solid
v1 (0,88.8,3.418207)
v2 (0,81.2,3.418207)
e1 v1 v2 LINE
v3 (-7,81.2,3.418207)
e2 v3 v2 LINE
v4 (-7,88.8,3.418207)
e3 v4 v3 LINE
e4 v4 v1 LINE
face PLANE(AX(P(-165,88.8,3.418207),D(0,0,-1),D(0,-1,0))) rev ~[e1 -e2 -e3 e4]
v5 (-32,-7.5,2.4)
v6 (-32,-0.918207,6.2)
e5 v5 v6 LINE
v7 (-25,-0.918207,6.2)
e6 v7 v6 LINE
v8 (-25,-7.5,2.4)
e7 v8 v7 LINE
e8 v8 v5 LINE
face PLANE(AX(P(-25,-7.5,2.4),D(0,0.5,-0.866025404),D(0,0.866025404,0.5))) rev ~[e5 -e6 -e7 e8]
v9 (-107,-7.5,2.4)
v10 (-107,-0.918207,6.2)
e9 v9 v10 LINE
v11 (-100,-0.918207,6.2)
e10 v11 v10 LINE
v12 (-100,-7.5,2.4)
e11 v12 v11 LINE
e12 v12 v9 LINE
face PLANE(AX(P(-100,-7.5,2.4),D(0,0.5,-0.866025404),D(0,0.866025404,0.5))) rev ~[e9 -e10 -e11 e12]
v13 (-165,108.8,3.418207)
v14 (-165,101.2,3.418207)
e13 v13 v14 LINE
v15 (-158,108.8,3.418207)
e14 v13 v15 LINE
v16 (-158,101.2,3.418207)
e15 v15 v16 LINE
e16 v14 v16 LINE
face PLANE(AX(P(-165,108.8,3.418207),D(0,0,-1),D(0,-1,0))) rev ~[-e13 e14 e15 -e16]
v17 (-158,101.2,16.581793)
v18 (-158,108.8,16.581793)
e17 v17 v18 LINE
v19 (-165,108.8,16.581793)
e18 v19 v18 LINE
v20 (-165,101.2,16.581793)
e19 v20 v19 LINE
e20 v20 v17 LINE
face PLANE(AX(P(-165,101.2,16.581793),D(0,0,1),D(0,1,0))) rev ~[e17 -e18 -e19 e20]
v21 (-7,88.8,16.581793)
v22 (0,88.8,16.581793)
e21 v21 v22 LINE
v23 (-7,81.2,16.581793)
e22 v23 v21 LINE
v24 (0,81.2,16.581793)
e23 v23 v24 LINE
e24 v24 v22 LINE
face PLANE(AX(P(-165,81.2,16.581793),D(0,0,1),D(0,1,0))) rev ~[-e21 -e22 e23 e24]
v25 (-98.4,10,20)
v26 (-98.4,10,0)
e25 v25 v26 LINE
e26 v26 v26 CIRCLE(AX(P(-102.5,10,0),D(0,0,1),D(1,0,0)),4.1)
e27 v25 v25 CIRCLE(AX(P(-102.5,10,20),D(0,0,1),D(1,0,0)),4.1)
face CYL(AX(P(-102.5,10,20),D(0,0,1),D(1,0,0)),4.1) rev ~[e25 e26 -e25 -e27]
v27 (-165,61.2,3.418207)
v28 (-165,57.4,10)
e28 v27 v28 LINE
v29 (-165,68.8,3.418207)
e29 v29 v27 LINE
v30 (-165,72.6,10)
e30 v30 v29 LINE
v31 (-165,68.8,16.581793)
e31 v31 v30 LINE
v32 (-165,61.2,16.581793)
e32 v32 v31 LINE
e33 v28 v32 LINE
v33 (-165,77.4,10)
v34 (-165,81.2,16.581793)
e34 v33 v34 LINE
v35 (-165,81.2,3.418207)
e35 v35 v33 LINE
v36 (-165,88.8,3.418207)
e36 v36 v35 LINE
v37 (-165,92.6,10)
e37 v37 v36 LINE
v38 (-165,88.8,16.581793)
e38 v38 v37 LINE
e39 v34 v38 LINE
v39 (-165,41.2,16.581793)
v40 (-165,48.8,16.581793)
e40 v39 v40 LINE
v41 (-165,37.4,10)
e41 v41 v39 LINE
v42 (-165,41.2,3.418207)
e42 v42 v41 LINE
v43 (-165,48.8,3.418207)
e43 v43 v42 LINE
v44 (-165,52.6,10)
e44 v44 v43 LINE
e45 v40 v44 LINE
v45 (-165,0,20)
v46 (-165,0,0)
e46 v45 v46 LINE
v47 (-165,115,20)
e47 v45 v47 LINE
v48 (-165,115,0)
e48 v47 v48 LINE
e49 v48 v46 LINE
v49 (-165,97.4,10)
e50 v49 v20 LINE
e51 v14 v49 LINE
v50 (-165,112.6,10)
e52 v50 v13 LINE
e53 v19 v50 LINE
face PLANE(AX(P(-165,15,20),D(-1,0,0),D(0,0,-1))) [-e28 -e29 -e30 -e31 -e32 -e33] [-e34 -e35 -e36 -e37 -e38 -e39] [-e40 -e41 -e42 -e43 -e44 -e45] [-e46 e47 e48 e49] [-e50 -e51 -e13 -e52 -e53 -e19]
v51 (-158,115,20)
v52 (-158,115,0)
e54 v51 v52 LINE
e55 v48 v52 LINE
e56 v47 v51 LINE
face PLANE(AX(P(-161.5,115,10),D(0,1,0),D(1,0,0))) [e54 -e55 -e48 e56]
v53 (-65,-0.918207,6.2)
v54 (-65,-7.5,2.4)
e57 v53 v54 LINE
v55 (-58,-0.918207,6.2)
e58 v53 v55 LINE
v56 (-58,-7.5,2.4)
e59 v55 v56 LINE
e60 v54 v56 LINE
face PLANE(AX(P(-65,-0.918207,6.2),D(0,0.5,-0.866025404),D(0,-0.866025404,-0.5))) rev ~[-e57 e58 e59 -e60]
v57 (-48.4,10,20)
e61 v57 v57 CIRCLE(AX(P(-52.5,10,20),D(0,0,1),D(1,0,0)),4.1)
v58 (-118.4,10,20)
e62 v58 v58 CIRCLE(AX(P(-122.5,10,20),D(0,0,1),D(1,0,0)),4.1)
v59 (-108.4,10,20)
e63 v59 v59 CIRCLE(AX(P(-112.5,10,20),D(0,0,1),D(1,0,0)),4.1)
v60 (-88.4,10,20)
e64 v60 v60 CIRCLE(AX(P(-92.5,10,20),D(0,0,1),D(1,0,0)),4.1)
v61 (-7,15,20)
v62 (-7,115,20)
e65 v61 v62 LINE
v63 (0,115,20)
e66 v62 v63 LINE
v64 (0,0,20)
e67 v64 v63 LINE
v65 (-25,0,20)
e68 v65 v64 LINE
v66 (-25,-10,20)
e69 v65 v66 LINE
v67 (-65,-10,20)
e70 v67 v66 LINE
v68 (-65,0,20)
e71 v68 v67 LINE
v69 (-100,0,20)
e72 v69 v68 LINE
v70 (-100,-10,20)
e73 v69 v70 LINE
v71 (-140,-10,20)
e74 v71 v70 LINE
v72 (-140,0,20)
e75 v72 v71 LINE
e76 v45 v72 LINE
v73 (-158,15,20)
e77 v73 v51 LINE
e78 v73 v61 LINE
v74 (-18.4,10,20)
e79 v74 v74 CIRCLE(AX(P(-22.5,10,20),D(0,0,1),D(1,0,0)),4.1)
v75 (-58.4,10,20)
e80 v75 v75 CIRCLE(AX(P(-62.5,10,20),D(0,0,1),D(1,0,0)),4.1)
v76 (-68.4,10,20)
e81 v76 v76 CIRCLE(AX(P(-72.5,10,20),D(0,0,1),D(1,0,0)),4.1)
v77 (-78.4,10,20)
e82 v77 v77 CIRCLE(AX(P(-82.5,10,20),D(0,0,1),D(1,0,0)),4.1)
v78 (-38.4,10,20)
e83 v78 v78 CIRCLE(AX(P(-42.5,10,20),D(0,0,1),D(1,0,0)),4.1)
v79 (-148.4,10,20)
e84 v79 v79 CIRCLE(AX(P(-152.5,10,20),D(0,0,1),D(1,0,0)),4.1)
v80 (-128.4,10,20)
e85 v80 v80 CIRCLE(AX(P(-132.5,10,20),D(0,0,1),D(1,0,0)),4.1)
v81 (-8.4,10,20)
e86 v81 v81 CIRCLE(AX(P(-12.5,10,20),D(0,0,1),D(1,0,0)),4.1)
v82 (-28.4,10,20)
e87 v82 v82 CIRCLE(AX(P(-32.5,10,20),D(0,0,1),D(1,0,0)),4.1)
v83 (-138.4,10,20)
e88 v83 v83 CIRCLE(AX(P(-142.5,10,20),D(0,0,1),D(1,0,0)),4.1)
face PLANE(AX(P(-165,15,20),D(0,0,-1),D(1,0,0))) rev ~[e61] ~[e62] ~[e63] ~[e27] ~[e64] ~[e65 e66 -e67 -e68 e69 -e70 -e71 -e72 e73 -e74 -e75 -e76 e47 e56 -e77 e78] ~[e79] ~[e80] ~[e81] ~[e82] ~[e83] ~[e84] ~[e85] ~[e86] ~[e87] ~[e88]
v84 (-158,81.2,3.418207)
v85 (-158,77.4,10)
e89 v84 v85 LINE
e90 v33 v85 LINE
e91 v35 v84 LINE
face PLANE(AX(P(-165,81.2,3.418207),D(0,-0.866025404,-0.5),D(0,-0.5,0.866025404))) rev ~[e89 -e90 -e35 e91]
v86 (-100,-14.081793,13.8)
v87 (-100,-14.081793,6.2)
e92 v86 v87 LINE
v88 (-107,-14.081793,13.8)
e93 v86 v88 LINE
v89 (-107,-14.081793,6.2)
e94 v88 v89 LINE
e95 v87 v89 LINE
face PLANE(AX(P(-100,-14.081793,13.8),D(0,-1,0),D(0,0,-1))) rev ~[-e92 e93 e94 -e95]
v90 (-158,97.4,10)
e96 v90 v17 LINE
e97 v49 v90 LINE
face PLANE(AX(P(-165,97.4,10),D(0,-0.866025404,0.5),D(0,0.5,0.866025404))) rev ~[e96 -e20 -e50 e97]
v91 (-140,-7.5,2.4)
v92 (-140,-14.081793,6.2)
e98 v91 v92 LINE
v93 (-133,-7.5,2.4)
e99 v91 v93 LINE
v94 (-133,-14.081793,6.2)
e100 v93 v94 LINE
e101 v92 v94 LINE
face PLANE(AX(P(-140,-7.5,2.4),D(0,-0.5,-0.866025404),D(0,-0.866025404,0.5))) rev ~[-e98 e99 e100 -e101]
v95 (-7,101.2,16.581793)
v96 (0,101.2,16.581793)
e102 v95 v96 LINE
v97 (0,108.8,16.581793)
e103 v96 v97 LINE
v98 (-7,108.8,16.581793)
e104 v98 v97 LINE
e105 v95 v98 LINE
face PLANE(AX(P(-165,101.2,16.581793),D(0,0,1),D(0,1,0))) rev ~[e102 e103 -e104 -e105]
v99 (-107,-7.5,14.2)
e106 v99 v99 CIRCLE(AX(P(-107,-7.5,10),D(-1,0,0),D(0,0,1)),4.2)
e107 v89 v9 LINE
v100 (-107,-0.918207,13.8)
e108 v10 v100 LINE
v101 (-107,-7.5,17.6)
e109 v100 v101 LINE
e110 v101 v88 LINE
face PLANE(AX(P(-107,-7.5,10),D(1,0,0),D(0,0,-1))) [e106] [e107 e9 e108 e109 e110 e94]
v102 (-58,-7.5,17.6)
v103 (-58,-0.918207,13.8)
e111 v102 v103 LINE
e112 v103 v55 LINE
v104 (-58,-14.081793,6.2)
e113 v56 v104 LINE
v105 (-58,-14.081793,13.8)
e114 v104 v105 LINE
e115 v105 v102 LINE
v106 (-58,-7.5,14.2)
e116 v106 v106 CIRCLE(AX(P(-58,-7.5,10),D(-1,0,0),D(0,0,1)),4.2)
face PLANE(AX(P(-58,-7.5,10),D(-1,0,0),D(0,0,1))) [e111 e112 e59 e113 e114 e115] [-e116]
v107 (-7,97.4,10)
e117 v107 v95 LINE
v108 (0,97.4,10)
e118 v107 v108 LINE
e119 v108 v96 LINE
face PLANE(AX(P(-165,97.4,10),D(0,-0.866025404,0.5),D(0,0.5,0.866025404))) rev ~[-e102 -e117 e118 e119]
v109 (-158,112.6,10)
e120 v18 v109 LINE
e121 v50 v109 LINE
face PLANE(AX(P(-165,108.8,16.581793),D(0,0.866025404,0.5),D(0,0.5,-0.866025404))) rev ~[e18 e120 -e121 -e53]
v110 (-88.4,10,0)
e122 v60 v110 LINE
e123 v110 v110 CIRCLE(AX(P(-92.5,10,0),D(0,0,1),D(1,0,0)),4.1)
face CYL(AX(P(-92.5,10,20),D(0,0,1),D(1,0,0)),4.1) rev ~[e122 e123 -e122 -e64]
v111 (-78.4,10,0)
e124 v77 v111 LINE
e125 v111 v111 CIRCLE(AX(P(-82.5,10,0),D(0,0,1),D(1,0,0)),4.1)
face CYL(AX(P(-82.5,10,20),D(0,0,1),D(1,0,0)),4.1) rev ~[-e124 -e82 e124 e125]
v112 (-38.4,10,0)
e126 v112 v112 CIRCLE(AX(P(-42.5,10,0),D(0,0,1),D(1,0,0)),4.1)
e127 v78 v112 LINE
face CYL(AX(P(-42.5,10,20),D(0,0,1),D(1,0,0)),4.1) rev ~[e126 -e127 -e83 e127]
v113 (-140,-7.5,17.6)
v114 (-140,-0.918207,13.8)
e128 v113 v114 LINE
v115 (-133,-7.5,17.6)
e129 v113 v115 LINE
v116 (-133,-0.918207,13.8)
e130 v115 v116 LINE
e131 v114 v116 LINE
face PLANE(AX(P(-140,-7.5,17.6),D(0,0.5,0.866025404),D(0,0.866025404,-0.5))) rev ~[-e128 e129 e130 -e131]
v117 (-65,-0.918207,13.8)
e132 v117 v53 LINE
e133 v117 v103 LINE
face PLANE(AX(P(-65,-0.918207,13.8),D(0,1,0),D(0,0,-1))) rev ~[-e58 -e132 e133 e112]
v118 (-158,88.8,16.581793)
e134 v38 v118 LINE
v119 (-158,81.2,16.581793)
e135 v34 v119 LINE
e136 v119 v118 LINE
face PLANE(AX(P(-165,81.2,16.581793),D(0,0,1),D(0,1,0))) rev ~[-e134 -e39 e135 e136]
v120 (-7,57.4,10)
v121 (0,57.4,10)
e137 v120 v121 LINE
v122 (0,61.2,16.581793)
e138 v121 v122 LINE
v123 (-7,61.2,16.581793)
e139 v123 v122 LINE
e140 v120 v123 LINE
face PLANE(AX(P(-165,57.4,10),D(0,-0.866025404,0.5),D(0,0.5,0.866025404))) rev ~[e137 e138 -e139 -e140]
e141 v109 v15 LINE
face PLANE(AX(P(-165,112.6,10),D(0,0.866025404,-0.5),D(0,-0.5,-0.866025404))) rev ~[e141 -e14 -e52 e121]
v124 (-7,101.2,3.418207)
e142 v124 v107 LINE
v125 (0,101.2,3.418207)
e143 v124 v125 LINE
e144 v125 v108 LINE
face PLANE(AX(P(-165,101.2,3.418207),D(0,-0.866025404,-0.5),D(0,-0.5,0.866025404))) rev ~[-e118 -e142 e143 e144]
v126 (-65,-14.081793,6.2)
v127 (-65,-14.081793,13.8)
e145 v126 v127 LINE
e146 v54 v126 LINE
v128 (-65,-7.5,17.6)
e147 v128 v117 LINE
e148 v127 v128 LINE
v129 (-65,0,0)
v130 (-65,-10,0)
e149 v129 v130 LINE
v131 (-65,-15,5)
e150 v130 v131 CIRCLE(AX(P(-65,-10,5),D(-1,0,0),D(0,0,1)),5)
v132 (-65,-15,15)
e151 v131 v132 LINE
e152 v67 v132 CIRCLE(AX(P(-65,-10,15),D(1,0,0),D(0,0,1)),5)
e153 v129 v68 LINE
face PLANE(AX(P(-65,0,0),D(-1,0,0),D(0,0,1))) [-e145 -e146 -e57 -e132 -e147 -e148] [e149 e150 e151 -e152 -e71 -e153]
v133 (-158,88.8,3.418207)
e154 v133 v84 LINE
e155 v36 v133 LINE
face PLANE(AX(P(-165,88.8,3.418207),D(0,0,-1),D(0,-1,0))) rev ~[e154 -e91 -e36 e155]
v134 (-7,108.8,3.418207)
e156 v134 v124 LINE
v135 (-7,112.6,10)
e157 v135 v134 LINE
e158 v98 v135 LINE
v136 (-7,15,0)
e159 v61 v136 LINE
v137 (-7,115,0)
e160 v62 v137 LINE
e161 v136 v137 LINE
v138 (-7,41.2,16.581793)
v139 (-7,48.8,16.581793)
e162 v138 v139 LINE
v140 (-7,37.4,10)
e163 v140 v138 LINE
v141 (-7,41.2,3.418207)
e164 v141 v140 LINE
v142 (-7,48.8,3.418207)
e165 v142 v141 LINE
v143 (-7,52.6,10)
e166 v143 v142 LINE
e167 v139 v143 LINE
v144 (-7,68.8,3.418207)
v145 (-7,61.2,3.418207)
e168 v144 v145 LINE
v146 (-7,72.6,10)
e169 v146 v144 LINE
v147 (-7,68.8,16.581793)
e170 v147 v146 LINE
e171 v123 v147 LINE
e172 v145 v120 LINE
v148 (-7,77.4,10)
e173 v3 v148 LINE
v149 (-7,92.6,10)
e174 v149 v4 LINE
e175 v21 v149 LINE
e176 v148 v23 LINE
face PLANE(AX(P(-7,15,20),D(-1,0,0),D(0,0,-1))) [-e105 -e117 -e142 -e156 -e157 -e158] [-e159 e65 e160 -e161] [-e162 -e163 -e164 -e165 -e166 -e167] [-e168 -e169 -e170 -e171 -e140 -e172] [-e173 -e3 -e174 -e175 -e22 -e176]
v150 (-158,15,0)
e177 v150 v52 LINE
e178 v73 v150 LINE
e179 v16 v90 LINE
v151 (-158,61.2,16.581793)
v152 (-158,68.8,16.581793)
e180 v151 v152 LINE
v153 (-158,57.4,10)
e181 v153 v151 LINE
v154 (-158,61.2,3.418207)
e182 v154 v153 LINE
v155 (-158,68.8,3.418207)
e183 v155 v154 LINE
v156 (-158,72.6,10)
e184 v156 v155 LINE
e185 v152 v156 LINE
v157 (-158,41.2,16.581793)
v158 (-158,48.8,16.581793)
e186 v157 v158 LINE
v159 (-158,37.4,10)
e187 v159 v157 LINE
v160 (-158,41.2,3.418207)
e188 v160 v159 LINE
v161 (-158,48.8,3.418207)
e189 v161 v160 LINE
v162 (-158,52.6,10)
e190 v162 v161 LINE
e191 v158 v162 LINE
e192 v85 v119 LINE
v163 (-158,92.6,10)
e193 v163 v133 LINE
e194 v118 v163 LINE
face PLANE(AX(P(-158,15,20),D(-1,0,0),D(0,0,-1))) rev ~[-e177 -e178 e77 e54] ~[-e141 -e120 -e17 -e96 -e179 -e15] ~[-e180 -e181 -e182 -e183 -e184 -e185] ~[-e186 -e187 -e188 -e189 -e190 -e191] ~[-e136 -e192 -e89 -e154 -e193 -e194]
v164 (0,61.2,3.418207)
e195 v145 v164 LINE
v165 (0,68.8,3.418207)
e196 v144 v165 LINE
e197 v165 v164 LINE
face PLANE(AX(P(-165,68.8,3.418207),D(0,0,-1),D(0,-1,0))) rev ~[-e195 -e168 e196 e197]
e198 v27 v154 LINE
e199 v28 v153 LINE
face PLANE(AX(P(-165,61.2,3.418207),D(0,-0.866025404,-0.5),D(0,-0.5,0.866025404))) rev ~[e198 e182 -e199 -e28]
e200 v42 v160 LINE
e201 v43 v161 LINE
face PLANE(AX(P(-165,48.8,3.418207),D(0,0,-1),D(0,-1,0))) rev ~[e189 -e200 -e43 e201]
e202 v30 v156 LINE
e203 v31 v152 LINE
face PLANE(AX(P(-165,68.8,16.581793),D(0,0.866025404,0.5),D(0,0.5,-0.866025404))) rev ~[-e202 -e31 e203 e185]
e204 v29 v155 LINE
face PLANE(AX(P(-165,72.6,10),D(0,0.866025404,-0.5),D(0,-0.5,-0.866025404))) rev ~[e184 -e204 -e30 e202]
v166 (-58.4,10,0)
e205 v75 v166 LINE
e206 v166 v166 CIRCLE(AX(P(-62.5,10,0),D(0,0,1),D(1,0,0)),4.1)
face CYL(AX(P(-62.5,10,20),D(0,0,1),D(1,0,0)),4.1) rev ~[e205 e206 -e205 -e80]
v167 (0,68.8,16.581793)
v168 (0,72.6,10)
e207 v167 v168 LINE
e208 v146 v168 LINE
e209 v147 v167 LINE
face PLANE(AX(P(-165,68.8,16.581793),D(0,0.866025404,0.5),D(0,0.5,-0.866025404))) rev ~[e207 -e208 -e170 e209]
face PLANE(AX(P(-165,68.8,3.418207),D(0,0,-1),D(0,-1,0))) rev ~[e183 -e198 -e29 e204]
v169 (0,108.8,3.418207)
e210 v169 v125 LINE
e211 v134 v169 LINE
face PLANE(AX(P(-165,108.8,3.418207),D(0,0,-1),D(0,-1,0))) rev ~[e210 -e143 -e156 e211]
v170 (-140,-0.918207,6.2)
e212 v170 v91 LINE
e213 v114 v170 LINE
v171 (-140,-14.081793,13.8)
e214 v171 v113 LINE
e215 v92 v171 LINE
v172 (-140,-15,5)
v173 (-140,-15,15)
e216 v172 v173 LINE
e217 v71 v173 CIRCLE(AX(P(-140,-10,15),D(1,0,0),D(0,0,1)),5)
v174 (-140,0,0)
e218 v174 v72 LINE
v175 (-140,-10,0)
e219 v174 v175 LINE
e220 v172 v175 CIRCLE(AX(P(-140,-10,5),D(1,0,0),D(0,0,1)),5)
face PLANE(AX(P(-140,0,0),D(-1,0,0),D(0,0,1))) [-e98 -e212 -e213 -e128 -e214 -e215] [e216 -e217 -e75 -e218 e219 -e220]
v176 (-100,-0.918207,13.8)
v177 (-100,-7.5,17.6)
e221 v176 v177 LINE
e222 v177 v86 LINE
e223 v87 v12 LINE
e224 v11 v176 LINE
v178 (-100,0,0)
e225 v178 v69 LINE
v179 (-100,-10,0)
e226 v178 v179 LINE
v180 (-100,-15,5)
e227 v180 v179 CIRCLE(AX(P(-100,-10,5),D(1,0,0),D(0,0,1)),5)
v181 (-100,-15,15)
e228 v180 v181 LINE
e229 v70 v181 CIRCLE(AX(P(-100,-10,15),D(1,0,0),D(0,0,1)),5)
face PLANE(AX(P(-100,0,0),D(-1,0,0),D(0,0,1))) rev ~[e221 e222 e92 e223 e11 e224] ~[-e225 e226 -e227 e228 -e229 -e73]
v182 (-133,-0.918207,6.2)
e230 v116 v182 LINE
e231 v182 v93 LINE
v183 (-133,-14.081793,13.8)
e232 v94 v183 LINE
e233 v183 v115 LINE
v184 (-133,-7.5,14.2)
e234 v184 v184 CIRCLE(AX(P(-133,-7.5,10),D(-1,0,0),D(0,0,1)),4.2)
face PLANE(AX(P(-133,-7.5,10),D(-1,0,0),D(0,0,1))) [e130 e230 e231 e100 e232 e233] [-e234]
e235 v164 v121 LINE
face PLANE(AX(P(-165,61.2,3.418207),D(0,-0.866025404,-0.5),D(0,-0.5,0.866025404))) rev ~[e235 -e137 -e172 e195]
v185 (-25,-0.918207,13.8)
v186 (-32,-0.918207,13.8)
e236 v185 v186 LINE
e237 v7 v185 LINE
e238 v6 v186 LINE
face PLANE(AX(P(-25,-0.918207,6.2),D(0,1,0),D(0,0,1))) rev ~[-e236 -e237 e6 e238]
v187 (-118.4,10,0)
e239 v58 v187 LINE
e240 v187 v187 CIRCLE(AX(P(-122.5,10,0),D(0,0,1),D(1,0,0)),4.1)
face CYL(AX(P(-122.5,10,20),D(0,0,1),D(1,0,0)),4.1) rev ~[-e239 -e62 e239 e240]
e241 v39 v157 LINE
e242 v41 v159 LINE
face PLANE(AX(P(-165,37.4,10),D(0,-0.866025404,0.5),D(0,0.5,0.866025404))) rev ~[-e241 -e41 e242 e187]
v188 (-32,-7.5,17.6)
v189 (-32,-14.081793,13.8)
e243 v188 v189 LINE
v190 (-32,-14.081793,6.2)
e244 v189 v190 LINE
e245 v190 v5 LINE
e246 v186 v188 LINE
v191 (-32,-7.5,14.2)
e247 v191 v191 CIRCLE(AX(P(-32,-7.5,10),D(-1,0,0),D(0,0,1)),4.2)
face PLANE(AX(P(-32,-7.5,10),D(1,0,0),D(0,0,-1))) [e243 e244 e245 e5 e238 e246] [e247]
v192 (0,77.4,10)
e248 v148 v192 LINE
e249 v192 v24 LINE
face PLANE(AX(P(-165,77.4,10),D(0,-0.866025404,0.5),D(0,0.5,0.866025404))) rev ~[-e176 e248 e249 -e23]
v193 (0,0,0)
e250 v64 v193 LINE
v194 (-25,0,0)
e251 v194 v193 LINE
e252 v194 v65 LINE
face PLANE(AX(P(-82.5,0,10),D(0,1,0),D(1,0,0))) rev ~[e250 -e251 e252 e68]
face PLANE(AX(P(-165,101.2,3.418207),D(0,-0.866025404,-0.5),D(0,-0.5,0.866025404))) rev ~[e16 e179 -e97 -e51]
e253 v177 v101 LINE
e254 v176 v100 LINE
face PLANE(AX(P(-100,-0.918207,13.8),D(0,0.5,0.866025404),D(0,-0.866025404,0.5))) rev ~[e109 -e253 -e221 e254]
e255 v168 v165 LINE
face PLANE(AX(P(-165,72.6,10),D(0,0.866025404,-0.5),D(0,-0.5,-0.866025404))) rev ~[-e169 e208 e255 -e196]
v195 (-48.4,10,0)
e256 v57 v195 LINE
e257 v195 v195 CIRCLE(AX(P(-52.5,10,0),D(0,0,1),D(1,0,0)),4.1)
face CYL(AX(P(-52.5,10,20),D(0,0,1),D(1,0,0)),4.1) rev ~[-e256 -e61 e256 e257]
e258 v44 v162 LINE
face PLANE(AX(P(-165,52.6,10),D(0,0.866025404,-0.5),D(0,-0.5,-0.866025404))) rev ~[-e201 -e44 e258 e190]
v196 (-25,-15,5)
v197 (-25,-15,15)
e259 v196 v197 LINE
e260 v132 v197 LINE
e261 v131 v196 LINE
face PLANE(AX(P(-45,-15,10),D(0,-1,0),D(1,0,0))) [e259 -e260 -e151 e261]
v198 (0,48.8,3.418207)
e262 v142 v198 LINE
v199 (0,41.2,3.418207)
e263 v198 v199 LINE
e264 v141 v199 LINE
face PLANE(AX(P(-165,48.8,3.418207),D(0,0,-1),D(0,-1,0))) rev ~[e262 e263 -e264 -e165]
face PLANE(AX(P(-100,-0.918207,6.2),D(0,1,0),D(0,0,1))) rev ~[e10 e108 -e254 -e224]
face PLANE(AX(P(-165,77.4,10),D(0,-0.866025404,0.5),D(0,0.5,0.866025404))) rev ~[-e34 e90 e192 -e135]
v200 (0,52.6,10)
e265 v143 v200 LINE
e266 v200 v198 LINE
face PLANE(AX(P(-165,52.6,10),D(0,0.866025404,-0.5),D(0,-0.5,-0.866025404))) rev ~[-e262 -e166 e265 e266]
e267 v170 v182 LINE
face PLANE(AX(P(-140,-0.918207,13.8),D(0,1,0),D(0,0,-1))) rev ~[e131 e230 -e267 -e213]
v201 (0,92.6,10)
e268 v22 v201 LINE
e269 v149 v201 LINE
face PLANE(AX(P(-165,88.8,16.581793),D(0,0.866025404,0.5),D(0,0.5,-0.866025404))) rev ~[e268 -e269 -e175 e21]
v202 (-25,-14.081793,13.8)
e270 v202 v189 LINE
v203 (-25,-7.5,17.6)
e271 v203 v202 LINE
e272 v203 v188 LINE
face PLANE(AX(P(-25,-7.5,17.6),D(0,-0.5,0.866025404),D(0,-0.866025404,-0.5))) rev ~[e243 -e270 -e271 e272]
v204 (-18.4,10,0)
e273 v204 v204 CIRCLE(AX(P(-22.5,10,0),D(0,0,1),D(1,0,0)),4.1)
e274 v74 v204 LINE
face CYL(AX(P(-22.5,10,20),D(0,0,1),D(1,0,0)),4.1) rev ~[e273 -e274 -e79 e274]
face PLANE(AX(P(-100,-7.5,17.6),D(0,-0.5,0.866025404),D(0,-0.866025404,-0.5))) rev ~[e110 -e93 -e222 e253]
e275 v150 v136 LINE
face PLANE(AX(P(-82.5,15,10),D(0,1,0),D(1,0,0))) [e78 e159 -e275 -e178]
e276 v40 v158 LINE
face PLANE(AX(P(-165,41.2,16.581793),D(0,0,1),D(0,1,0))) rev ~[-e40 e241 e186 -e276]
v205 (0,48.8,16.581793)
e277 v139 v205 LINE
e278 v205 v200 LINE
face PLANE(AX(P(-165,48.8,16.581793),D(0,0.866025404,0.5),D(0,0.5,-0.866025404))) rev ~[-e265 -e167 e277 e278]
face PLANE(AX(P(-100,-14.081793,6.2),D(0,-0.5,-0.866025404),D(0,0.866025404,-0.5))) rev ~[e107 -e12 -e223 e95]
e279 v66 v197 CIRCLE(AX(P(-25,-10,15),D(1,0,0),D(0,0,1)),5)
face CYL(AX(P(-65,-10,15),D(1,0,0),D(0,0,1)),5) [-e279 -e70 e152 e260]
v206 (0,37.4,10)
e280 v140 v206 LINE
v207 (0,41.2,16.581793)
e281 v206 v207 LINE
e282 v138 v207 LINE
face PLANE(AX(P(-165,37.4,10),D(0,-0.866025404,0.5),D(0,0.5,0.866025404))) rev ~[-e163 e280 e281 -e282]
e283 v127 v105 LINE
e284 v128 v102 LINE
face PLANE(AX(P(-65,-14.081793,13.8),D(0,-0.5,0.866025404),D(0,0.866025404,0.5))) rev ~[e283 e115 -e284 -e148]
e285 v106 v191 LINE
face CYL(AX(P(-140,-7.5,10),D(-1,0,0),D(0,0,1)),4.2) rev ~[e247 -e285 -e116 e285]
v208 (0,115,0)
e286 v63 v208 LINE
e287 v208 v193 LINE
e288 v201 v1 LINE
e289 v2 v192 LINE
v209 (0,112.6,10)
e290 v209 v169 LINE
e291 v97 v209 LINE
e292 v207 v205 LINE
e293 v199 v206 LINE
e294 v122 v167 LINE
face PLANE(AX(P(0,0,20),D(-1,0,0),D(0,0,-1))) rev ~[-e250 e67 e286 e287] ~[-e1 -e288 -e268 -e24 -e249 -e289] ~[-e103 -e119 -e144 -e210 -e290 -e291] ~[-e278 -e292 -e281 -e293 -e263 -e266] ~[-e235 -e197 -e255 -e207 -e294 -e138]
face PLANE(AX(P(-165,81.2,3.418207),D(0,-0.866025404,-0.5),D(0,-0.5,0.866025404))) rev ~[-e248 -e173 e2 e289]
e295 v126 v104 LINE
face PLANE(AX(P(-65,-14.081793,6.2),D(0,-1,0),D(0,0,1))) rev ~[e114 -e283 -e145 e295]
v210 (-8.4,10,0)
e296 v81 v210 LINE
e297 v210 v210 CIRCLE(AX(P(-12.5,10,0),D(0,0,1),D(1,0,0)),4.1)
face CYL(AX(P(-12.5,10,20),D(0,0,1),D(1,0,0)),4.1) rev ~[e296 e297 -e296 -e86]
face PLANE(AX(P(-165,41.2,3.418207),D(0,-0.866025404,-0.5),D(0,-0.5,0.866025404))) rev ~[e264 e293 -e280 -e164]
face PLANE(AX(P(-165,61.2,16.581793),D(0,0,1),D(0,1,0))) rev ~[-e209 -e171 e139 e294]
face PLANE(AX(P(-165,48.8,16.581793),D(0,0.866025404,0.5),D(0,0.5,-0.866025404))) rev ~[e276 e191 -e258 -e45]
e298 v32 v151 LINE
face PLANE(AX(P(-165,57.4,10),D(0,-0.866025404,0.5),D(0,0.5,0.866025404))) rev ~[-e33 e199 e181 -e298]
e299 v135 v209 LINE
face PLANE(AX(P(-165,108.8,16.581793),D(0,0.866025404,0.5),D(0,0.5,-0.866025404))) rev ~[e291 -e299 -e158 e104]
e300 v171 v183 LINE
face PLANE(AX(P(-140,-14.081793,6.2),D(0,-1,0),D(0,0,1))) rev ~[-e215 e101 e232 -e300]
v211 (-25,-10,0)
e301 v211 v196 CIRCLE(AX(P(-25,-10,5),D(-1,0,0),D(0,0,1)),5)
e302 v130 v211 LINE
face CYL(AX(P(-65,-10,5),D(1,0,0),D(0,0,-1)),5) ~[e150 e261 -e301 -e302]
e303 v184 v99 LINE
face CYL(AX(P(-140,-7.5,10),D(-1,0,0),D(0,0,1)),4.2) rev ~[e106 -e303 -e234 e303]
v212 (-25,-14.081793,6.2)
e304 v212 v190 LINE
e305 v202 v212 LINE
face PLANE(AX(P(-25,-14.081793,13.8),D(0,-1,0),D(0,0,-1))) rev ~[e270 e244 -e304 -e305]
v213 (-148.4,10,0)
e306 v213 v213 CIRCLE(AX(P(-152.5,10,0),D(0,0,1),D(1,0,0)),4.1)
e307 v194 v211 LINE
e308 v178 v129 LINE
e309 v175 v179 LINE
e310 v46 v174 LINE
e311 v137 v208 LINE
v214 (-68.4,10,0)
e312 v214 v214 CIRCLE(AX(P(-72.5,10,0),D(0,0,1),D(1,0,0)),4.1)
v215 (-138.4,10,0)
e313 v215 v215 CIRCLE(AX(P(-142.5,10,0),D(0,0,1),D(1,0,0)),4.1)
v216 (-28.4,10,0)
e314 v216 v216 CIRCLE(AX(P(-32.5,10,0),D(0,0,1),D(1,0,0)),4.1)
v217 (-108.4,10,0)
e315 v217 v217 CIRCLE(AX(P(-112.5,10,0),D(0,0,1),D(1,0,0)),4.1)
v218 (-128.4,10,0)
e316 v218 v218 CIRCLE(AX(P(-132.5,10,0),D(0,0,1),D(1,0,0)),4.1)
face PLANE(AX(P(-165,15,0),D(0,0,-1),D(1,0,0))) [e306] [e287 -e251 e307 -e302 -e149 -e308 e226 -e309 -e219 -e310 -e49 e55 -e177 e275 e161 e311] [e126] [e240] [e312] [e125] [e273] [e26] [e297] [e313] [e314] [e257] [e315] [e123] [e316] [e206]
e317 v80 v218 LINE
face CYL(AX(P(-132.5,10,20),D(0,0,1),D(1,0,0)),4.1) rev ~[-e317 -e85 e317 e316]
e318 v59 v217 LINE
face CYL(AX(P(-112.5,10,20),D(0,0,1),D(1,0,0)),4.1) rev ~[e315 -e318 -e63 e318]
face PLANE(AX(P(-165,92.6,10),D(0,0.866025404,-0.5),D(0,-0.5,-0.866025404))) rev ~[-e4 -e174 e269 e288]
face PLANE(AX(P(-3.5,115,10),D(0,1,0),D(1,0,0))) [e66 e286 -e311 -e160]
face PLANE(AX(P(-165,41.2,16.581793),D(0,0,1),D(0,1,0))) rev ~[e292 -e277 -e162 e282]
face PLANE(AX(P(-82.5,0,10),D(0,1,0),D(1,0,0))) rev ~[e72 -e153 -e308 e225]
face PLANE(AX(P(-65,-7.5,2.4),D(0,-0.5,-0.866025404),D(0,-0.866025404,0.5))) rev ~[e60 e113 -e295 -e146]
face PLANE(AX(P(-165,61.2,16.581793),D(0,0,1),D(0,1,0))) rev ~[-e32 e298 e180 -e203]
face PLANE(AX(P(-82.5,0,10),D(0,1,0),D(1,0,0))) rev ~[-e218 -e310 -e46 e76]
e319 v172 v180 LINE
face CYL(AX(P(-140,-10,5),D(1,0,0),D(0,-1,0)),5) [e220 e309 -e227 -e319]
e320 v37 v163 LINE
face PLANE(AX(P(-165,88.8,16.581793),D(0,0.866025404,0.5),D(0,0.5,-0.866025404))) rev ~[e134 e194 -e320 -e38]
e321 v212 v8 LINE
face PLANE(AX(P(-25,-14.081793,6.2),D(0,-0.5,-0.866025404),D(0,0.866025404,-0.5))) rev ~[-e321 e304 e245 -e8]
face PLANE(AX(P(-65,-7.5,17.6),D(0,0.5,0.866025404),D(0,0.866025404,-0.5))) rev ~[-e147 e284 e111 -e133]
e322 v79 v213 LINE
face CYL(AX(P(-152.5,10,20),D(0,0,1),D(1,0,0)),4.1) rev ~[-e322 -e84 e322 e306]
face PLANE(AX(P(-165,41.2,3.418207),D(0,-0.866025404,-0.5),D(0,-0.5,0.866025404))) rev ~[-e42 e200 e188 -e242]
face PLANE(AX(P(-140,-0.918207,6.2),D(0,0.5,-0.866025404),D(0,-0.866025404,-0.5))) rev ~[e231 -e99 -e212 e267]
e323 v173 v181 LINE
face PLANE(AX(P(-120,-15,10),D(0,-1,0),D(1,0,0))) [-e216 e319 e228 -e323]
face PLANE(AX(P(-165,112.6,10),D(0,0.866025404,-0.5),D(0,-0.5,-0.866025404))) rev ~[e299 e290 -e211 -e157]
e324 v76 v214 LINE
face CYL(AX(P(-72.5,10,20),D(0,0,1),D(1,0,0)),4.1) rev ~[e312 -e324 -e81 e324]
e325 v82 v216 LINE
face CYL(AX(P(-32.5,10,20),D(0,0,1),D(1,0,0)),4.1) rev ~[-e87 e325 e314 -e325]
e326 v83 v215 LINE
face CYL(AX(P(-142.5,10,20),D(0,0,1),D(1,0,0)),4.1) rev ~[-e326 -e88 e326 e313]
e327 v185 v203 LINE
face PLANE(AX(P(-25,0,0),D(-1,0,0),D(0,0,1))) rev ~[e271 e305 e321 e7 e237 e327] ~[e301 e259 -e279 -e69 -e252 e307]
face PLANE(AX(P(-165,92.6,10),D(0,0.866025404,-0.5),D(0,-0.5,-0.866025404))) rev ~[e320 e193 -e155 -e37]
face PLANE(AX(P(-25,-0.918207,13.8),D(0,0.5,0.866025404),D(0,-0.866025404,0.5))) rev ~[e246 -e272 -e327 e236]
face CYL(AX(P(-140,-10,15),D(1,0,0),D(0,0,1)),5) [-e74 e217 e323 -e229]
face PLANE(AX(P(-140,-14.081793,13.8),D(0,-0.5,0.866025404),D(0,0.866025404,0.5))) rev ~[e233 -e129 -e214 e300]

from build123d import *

# Parameters (mm, degrees)
SKETCH_1_W                 = 165
SKETCH_1_H                 = 20
EXTRUDE_1_DEPTH            = 15
SKETCH_2_W                 = 7
SKETCH_2_H                 = 20
EXTRUDE_2_DEPTH            = 100
SKETCH_3_R                 = 4.1
CUT_EXTRUDE_1_DEPTH        = 21
PATTERN_LINEAR_1_COUNT     = 8
PATTERN_LINEAR_1_PITCH     = 10
PATTERN_LINEAR_1_COL_COUNT = 8
PATTERN_LINEAR_1_COL_PITCH = 10
CUT_EXTRUDE_2_DEPTH        = 166
SKETCH_5_W                 = 40
SKETCH_5_H                 = 20
EXTRUDE_3_DEPTH            = 15
SKETCH_6_R                 = 4.2
CUT_EXTRUDE_4_DEPTH        = 141
CUT_EXTRUDE_5_DEPTH        = 7
CUT_EXTRUDE_6_DEPTH        = 7
CUT_EXTRUDE_7_DEPTH        = 7
CUT_EXTRUDE_8_DEPTH        = 7
FILLET_1_R                 = 5
FILLET_2_R                 = 5
PATTERN_LINEAR_2_COUNT     = 4
PATTERN_LINEAR_2_PITCH     = 20


with BuildPart() as part:
    # Эскиз1 → Бобышка-Вытянуть1 (new body)
    with BuildSketch(Plane(origin=(0, 0, 0), x_dir=(1, 0, 0), z_dir=(0, 1, 0))):
        with Locations((-82.5, -10)):
            Rectangle(SKETCH_1_W, SKETCH_1_H)
    extrude(amount=EXTRUDE_1_DEPTH)

    # Эскиз2 → Бобышка-Вытянуть2 (add)
    with BuildSketch(Plane(origin=(0, 15, 0), x_dir=(1, 0, 0), z_dir=(0, 1, 0))):
        with Locations((-161.5, -10)):
            Rectangle(SKETCH_2_W, SKETCH_2_H)
        with Locations((-3.5, -10)):
            Rectangle(SKETCH_2_W, SKETCH_2_H)
    extrude(amount=EXTRUDE_2_DEPTH)

    # Эскиз3 → Вырез-Вытянуть1 (cut, through all)
    with BuildSketch(Plane.XY.offset(20)):
        with Locations((-82.5, 10)):
            Circle(SKETCH_3_R)
    cut_extrude_1 = extrude(amount=-CUT_EXTRUDE_1_DEPTH, mode=Mode.SUBTRACT)

    # Линейный массив1: Вырез-Вытянуть1 ×8
    with Locations(*[(-i * PATTERN_LINEAR_1_PITCH, 0, 0) for i in range(1, PATTERN_LINEAR_1_COUNT)]):
        add(cut_extrude_1, mode=Mode.SUBTRACT)

    # Линейный массив1 col: Вырез-Вытянуть1 ×8
    with Locations(*[(i * PATTERN_LINEAR_1_COL_PITCH, 0, 0) for i in range(1, PATTERN_LINEAR_1_COL_COUNT)]):
        add(cut_extrude_1, mode=Mode.SUBTRACT)

    # Эскиз4 → Вырез-Вытянуть2 (cut, through all)
    with BuildSketch(Plane.ZY.offset(165)):
        Polygon((10, 97.4), (16.581793069, 101.2), (16.581793069, 108.8), (10, 112.6), (3.418206931, 108.8), (3.418206931, 101.2), align=None)
    cut_extrude_2 = extrude(amount=-CUT_EXTRUDE_2_DEPTH, mode=Mode.SUBTRACT)

    # Эскиз5 → Бобышка-Вытянуть3 (add)
    with BuildSketch(Plane.XZ):
        with Locations((-120, 10)):
            Rectangle(SKETCH_5_W, SKETCH_5_H)
        with Locations((-45, 10)):
            Rectangle(SKETCH_5_W, SKETCH_5_H)
    extrude(amount=EXTRUDE_3_DEPTH)

    # Эскиз6 → Вырез-Вытянуть4 (cut, through all)
    with BuildSketch(Plane.ZY.offset(140)):
        with Locations((10, -7.5)):
            Circle(SKETCH_6_R)
    extrude(amount=-CUT_EXTRUDE_4_DEPTH, mode=Mode.SUBTRACT)

    # Эскиз7 → Вырез-Вытянуть5 (cut)
    with BuildSketch(Plane.ZY.offset(140)):
        Polygon((17.6, -7.5), (13.8, -0.918206931), (6.2, -0.918206931), (2.4, -7.5), (6.2, -14.081793069), (13.8, -14.081793069), align=None)
    extrude(amount=-CUT_EXTRUDE_5_DEPTH, mode=Mode.SUBTRACT)

    # Эскиз8 → Вырез-Вытянуть6 (cut)
    with BuildSketch(Plane(origin=(-100, 0, 0), x_dir=(0, 0, -1), z_dir=(1, 0, 0))):
        Polygon((-17.6, -7.5), (-13.8, -14.081793069), (-6.2, -14.081793069), (-2.4, -7.5), (-6.2, -0.918206931), (-13.8, -0.918206931), align=None)
    extrude(amount=-CUT_EXTRUDE_6_DEPTH, mode=Mode.SUBTRACT)

    # Эскиз9 → Вырез-Вытянуть7 (cut)
    with BuildSketch(Plane.ZY.offset(65)):
        Polygon((17.6, -7.5), (13.8, -0.918206931), (6.2, -0.918206931), (2.4, -7.5), (6.2, -14.081793069), (13.8, -14.081793069), align=None)
    extrude(amount=-CUT_EXTRUDE_7_DEPTH, mode=Mode.SUBTRACT)

    # Эскиз10 → Вырез-Вытянуть8 (cut)
    with BuildSketch(Plane(origin=(-25, 0, 0), x_dir=(0, 0, -1), z_dir=(1, 0, 0))):
        Polygon((-2.4, -7.5), (-6.2, -0.918206931), (-13.8, -0.918206931), (-17.6, -7.5), (-13.8, -14.081793069), (-6.2, -14.081793069), align=None)
    extrude(amount=-CUT_EXTRUDE_8_DEPTH, mode=Mode.SUBTRACT)

    # Скругление1
    fillet_1_edges = [part.edges().sort_by_distance(p)[0] for p in [
        (-45, -15, 0),
        (-45, -15, 20),
    ]]
    fillet(fillet_1_edges, radius=FILLET_1_R)

    # Скругление2
    fillet_2_edges = [part.edges().sort_by_distance(p)[0] for p in [
        (-120, -15, 0),
        (-120, -15, 20),
    ]]
    fillet(fillet_2_edges, radius=FILLET_2_R)

    # Линейный массив2: Вырез-Вытянуть2 ×4
    with Locations(*[(0, -i * PATTERN_LINEAR_2_PITCH, 0) for i in range(1, PATTERN_LINEAR_2_COUNT)]):
        add(cut_extrude_2, mode=Mode.SUBTRACT)


solid = part.part
